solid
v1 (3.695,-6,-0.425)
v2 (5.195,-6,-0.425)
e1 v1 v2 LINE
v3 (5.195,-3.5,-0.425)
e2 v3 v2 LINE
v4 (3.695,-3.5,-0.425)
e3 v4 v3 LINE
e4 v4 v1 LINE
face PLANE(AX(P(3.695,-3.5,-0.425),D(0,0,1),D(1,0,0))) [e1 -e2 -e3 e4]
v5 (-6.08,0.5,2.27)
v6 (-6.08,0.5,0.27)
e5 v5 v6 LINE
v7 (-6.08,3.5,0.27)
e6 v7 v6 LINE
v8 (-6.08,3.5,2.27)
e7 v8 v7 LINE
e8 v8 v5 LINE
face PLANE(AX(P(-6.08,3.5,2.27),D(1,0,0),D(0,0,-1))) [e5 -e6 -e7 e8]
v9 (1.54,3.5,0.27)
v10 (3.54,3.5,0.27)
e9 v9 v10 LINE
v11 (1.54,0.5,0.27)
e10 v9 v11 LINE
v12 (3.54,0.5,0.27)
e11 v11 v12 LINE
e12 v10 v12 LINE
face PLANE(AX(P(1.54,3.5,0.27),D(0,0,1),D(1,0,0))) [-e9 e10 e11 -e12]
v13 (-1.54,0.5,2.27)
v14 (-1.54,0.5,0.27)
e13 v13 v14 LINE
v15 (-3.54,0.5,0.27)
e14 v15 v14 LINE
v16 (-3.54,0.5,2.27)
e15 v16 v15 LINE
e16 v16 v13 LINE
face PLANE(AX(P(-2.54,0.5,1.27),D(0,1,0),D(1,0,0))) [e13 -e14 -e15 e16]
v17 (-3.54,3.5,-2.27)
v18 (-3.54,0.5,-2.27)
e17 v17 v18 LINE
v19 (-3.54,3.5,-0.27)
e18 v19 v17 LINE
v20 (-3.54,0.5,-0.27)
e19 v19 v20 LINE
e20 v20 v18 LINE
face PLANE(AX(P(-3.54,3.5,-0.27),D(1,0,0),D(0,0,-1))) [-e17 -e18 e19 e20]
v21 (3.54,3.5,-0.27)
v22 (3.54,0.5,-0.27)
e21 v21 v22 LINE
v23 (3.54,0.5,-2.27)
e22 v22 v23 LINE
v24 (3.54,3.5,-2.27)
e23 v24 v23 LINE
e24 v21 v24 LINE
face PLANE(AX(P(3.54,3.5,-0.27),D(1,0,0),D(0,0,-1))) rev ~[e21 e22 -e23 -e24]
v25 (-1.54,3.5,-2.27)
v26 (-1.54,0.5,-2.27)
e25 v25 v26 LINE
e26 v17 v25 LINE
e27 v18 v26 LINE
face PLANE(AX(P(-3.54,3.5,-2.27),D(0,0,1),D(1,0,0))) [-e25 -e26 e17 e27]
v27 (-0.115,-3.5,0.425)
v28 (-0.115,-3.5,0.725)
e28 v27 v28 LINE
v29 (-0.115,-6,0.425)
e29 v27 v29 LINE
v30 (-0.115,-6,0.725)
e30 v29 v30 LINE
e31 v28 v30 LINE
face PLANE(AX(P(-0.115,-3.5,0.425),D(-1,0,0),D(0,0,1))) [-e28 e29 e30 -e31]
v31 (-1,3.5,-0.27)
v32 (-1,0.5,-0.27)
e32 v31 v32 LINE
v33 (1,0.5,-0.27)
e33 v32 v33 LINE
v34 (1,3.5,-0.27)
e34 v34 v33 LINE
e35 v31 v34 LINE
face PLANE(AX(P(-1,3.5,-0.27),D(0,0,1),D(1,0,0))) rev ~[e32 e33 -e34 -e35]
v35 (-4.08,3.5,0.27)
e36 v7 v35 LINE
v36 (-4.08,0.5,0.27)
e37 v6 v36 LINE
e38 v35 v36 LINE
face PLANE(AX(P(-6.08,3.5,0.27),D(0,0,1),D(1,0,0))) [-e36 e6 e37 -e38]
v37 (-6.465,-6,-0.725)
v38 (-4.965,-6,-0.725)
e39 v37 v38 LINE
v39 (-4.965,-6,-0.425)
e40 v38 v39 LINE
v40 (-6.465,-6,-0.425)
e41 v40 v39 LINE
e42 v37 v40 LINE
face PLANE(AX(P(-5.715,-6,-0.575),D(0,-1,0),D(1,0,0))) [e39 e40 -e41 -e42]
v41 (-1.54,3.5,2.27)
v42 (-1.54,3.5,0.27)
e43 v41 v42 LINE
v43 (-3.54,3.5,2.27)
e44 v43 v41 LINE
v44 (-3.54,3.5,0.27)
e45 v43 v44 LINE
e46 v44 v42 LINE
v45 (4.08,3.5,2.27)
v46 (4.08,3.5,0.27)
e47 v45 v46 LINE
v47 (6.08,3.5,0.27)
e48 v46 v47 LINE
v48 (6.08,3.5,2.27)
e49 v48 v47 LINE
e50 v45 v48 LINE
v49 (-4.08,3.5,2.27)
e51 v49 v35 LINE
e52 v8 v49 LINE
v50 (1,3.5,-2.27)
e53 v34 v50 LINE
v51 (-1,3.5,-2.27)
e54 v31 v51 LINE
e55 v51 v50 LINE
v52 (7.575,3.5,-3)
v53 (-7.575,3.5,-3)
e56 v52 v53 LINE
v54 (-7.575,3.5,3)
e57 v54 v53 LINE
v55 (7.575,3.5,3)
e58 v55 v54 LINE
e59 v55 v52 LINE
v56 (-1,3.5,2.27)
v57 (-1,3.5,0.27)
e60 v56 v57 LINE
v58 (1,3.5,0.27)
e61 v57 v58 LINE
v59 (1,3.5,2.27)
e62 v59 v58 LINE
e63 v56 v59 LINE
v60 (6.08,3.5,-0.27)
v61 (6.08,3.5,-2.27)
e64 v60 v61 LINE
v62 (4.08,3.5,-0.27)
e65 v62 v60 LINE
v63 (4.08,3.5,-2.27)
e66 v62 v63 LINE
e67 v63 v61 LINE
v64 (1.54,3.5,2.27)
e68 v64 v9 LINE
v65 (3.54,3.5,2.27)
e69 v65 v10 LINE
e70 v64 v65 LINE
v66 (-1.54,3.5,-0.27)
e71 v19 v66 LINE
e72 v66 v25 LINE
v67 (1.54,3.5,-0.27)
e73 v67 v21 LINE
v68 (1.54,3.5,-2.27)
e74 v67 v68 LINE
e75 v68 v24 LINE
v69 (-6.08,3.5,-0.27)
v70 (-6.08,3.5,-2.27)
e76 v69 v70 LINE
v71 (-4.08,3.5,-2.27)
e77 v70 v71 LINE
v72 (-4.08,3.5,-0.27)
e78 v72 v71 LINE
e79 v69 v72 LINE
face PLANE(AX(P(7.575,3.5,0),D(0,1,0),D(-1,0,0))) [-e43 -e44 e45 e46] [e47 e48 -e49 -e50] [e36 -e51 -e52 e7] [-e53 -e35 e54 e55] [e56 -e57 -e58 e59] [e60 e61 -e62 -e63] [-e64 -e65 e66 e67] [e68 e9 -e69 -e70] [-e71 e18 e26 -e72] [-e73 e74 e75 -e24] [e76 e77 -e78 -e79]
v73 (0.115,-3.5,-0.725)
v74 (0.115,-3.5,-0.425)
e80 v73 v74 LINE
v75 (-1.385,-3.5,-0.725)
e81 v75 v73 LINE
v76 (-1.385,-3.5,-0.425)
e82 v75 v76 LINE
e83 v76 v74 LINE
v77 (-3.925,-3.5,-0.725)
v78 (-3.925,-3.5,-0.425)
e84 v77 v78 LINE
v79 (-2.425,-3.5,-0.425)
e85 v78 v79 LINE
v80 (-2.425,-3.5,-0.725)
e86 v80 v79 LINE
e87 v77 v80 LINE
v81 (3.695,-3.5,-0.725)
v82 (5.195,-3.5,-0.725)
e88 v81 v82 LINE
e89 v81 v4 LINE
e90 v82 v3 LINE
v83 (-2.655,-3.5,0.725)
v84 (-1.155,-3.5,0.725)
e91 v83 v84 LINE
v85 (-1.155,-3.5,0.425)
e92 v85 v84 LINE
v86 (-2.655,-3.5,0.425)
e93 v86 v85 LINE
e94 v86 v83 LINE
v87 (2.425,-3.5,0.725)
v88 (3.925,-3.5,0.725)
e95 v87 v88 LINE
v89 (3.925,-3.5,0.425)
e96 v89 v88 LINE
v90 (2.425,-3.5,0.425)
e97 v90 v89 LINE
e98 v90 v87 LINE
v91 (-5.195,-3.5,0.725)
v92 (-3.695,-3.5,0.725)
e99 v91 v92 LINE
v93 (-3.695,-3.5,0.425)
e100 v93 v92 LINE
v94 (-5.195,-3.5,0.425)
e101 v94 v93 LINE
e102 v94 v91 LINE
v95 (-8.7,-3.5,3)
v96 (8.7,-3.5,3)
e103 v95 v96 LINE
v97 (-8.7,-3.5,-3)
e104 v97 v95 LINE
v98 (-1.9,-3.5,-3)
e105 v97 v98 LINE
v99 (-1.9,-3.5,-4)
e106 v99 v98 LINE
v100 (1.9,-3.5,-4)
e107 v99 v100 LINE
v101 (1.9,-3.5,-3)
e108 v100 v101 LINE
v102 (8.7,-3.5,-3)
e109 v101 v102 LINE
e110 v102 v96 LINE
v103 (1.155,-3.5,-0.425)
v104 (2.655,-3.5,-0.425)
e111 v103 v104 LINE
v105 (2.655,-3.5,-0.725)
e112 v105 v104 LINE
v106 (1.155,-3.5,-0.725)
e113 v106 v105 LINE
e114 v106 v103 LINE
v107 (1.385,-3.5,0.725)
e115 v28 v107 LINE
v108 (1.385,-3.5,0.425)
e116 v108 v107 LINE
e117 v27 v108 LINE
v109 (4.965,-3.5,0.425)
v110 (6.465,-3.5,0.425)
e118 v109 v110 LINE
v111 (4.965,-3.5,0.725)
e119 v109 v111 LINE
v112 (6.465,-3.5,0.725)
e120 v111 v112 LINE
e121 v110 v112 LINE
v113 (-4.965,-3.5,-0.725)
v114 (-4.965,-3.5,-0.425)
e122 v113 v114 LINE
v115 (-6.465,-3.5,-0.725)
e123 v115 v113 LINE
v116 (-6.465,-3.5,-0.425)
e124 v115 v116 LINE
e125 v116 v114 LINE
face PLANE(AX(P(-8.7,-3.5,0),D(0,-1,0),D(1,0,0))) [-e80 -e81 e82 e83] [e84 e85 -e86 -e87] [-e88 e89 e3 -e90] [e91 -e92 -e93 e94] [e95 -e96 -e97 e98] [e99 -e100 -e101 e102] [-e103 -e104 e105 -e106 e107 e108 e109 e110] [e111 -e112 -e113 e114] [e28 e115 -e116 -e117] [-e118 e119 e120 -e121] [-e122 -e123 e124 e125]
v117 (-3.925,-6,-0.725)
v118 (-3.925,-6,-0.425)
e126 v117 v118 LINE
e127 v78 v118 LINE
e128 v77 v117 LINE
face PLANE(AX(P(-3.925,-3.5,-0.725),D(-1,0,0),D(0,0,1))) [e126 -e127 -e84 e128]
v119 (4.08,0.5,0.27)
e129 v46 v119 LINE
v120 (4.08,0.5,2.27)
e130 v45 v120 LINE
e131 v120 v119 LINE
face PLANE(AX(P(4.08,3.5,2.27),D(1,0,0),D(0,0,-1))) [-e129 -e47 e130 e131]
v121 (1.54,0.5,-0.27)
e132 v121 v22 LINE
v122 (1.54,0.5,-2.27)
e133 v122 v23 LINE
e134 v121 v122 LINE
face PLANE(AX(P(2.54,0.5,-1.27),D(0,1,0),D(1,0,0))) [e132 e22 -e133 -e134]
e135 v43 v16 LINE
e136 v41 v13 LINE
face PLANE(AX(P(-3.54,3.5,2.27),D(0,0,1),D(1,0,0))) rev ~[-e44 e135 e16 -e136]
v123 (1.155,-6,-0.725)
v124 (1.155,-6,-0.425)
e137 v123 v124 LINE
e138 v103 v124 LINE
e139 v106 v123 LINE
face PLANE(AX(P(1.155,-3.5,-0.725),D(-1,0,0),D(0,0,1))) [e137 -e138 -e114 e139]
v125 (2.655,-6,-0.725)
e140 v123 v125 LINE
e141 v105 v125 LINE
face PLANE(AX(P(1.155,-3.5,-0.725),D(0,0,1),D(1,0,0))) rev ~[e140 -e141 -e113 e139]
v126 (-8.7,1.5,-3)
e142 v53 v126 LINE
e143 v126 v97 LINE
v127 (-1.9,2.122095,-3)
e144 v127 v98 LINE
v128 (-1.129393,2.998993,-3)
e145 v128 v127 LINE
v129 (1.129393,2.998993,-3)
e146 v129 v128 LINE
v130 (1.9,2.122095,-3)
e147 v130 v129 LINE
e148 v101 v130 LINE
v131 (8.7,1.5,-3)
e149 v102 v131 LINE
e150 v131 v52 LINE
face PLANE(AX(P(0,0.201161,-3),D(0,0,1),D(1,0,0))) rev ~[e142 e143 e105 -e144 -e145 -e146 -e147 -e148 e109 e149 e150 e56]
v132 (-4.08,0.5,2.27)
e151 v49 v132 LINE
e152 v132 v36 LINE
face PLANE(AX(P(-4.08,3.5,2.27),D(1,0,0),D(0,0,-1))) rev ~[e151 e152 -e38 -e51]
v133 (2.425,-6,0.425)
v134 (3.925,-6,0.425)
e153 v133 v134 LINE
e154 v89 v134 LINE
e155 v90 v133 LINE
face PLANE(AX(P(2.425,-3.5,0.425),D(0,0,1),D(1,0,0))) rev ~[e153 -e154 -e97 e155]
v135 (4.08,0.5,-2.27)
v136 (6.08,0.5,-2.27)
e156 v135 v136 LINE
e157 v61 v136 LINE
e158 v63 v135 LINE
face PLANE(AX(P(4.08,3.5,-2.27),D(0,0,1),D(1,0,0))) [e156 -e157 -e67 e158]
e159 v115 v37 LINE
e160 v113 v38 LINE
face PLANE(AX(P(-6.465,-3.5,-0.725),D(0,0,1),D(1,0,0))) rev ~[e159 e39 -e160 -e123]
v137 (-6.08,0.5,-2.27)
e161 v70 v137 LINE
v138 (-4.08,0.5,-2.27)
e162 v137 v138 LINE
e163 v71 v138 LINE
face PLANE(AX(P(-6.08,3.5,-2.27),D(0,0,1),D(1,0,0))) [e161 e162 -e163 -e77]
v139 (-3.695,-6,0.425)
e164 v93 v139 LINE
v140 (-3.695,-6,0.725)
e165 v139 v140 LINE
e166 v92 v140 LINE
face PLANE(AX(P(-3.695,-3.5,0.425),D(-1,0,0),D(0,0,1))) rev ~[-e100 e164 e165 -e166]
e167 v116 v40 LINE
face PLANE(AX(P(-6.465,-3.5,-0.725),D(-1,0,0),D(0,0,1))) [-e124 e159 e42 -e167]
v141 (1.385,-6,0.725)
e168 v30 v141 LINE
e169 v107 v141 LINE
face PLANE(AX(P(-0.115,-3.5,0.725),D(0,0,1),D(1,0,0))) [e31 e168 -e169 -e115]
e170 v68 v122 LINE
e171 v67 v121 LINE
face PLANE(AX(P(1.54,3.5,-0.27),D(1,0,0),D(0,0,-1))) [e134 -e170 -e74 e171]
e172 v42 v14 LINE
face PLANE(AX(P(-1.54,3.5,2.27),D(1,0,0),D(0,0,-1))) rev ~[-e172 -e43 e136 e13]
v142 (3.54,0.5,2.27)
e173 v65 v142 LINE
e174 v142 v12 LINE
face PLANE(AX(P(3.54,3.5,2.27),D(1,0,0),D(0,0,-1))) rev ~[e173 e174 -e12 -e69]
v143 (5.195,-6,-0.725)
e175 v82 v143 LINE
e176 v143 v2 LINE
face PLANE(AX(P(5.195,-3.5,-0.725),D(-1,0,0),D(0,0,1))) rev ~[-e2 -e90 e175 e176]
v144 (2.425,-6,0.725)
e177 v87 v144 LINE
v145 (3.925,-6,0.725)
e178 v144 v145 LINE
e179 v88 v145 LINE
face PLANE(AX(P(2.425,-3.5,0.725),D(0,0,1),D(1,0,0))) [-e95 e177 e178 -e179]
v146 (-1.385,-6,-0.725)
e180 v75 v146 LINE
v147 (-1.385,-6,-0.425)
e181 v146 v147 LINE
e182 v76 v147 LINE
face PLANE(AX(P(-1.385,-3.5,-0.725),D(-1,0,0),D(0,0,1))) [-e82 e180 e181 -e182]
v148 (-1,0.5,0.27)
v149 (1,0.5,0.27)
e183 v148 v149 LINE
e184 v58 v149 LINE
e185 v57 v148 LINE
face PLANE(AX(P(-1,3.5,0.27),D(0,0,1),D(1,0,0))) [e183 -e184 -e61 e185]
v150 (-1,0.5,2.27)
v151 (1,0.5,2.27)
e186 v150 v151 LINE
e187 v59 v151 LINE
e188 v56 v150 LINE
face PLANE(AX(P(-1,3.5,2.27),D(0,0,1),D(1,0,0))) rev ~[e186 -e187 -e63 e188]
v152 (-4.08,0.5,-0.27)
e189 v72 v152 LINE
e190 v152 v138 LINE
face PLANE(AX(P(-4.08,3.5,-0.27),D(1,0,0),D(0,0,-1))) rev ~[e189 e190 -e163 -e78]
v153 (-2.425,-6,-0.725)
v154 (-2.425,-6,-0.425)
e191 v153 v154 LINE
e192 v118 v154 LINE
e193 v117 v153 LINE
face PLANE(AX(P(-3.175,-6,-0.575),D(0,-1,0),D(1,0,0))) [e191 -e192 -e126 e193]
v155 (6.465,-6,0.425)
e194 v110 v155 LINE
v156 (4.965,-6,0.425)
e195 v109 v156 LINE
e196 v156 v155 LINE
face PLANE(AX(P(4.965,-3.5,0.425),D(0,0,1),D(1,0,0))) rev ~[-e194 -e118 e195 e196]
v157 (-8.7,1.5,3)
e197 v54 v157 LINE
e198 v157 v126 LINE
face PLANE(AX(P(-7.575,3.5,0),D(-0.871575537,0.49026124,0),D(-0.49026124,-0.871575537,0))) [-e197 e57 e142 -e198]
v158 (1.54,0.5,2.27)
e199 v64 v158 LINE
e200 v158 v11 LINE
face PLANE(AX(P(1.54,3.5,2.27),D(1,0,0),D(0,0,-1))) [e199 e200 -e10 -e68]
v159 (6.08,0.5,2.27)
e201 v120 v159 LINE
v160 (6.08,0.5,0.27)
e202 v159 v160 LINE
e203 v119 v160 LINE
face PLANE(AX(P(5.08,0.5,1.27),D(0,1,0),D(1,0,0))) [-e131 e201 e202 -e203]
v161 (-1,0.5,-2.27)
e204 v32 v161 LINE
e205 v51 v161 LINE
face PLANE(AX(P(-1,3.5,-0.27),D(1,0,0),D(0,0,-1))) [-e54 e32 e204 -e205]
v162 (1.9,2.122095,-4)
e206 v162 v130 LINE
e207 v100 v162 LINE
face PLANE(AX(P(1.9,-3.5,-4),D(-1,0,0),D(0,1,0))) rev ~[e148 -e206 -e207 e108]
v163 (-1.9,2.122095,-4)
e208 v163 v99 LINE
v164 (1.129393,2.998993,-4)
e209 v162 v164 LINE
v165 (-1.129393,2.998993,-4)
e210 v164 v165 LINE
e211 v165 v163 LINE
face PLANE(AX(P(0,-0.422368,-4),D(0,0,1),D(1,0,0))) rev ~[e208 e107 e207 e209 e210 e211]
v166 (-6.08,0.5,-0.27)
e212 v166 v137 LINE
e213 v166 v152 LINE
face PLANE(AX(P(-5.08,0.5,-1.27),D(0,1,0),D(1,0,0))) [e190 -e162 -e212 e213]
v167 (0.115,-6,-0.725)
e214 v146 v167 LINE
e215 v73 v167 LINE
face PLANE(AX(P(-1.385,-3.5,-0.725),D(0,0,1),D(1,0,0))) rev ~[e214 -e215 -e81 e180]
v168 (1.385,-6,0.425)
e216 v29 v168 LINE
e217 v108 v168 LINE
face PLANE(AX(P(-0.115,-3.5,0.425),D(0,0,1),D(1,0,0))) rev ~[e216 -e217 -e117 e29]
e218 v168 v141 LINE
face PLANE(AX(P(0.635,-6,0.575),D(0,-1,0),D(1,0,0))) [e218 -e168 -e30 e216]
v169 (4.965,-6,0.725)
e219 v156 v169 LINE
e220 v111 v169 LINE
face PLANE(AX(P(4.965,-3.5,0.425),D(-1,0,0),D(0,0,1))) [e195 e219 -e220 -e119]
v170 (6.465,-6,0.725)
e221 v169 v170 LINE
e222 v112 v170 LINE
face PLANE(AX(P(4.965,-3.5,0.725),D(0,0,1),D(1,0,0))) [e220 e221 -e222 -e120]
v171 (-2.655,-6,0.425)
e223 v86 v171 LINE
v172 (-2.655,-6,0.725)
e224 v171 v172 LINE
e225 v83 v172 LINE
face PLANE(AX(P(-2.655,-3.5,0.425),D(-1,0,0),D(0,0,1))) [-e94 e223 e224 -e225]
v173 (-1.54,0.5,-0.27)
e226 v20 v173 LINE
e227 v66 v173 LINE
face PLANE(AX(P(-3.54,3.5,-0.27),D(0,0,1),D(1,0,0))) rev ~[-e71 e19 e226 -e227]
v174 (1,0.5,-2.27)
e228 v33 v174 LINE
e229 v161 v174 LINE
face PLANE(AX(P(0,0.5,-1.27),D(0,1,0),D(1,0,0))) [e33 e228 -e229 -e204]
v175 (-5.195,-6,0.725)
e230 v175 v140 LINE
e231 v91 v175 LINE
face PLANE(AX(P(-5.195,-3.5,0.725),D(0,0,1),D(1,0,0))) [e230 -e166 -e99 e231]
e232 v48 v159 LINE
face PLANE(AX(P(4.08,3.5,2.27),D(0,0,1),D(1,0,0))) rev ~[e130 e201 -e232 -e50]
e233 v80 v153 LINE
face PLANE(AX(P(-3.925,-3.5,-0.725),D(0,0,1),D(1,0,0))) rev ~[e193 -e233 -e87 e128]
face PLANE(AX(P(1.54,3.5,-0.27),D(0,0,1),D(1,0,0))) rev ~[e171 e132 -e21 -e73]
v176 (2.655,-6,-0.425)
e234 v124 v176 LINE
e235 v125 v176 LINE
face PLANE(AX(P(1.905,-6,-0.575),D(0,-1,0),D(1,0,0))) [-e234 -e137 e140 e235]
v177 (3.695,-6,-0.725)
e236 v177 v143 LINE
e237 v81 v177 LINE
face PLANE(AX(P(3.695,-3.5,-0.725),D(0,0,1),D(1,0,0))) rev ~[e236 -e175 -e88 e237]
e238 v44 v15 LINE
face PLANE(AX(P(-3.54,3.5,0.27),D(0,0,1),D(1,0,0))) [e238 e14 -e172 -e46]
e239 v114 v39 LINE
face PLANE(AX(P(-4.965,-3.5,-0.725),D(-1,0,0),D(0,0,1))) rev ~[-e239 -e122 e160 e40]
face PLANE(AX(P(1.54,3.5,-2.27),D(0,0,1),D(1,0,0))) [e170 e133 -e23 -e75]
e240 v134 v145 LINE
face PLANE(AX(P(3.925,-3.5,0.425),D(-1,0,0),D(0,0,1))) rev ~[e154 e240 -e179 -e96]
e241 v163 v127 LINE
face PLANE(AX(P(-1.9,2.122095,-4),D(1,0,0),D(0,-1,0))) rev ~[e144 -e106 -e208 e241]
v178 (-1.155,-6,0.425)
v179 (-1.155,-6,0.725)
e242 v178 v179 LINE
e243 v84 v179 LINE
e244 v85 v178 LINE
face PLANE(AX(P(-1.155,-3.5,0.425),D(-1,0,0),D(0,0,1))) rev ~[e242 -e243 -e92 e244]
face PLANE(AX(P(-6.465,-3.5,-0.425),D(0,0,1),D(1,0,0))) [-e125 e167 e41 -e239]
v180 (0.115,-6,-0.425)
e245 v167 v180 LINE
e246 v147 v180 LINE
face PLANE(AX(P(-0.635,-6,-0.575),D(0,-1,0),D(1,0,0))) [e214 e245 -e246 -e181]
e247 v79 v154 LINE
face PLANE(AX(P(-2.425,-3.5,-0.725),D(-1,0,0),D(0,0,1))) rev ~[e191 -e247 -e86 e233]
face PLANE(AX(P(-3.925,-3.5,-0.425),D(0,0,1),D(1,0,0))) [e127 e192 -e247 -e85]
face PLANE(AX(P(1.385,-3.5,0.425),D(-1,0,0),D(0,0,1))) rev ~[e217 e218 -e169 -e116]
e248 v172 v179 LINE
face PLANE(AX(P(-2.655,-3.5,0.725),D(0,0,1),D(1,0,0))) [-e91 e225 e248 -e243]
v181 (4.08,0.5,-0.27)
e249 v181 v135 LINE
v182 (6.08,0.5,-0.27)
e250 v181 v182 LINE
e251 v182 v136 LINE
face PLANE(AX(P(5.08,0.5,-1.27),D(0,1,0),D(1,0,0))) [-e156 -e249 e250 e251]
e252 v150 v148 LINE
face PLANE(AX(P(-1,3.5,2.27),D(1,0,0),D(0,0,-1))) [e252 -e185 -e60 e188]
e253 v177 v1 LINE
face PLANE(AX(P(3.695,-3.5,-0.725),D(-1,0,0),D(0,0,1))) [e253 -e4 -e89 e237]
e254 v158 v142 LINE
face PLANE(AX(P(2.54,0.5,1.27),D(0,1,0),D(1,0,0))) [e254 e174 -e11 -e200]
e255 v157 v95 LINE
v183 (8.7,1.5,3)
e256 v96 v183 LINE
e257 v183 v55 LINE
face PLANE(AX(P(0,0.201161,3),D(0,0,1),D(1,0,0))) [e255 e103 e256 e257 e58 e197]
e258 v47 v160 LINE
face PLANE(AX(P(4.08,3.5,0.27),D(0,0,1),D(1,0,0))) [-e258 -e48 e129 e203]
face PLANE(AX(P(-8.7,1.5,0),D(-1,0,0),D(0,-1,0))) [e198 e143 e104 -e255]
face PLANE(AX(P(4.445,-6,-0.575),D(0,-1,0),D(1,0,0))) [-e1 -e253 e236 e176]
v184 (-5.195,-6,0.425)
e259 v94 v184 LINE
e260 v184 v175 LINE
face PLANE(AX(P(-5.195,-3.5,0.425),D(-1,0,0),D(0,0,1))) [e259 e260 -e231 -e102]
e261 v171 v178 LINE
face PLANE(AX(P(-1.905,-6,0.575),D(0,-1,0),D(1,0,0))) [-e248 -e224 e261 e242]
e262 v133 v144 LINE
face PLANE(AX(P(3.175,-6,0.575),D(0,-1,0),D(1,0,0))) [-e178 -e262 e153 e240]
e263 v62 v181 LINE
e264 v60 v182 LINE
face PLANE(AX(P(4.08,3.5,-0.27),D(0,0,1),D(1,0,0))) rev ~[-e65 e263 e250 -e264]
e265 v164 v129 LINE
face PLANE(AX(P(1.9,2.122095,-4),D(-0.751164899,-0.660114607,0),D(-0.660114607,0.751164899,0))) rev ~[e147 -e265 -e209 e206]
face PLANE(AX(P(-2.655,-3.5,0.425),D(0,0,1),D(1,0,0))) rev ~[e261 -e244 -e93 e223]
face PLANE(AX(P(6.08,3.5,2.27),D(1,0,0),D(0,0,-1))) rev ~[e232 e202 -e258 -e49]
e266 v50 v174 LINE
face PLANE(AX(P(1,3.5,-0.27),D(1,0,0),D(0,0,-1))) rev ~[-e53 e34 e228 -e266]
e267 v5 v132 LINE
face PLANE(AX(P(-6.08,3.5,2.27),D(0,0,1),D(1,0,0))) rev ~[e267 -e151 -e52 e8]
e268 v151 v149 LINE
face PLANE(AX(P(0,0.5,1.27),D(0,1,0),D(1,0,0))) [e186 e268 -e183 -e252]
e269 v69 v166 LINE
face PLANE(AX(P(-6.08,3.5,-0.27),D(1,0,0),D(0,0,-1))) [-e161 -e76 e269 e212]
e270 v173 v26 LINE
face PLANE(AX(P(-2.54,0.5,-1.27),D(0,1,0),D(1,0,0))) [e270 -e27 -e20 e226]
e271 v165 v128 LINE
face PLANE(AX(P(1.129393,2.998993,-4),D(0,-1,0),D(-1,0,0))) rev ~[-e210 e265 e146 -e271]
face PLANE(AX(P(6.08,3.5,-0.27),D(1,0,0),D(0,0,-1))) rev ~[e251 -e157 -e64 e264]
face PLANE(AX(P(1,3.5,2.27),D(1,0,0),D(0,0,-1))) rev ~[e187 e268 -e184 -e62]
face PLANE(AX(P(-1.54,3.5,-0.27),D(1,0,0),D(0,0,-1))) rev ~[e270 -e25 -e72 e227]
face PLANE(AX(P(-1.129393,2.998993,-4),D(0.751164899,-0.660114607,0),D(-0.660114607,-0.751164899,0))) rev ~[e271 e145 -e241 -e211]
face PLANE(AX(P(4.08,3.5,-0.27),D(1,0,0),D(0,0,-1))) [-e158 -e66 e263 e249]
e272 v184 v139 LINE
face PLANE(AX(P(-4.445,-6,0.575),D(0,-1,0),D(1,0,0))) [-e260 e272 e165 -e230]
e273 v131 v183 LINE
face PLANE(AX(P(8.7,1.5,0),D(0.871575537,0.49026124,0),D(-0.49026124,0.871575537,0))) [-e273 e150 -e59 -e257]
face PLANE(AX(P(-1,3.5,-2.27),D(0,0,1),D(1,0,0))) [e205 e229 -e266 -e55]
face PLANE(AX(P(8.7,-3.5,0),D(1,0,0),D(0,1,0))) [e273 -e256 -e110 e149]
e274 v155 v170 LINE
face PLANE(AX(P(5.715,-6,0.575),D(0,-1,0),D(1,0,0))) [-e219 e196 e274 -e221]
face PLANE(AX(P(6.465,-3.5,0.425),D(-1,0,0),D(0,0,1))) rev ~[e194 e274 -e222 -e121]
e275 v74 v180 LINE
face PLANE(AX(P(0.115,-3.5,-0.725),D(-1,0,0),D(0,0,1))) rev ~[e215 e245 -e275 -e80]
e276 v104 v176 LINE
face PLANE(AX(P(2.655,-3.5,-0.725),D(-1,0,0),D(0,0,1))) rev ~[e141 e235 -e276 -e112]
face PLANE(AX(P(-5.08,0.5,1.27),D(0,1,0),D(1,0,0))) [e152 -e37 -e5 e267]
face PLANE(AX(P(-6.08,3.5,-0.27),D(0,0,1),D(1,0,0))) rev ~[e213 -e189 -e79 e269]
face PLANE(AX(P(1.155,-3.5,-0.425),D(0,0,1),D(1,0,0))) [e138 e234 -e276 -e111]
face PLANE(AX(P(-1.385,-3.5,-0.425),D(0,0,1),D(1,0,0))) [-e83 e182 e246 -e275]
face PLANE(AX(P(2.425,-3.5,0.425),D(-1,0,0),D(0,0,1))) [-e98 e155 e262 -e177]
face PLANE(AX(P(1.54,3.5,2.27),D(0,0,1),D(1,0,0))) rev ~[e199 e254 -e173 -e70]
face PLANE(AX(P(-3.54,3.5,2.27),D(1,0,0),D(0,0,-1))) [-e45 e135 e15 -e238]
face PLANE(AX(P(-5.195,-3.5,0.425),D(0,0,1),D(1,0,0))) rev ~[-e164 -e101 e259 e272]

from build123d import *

# Parameters (mm, degrees)
EXTRUDE_1_DEPTH     = 3
EXTRUDE_START       = -4
EXTRUDE_2_DEPTH     = 1
SKETCH_2_W          = 2
SKETCH_2_H          = 2
CUT_EXTRUDE_1_DEPTH = 3
SKETCH_3_W          = 1.5
SKETCH_3_H          = 0.3
EXTRUDE_3_DEPTH     = 2.5


with BuildPart() as part:
    # Эскиз1 → Бобышка-Вытянуть1 (new, symmetric)
    with BuildSketch(Plane.XY):
        Polygon((-8.7, 1.5), (-8.7, -3.5), (-1.9, -3.5), (-1.9, 2.122094745), (-1.129392625, 2.998992793), (1.129392625, 2.998992793), (1.9, 2.122094745), (1.9, -3.5), (8.7, -3.5), (8.7, 1.5), (7.575, 3.5), (-7.575, 3.5), align=None)
        Polygon((-1.9, 2.122094745), (-1.9, -3.5), (1.9, -3.5), (1.9, 2.122094745), (1.129392625, 2.998992793), (-1.129392625, 2.998992793), align=None)
    extrude(amount=EXTRUDE_1_DEPTH, both=True)

    # Эскиз1<3> → Бобышка-Вытянуть2 (add)
    with BuildSketch(Plane.XY.offset(EXTRUDE_START)):
        Polygon((-1.9, 2.122094745), (-1.9, -3.5), (1.9, -3.5), (1.9, 2.122094745), (1.129392625, 2.998992793), (-1.129392625, 2.998992793), align=None)
    extrude(amount=EXTRUDE_2_DEPTH)

    # Эскиз2 → Вырез-Вытянуть1 (cut)
    with BuildSketch(Plane(origin=(0, 3.5, 0), x_dir=(1, 0, 0), z_dir=(0, 1, 0))):
        with Locations((0, 1.27)):
            Rectangle(SKETCH_2_W, SKETCH_2_H)
        with Locations((0, -1.27)):
            Rectangle(SKETCH_2_W, SKETCH_2_H)
        with Locations((2.54, 1.27)):
            Rectangle(SKETCH_2_W, SKETCH_2_H)
        with Locations((2.54, -1.27)):
            Rectangle(SKETCH_2_W, SKETCH_2_H)
        with Locations((-2.54, 1.27)):
            Rectangle(SKETCH_2_W, SKETCH_2_H)
        with Locations((-2.54, -1.27)):
            Rectangle(SKETCH_2_W, SKETCH_2_H)
        with Locations((-5.08, 1.27)):
            Rectangle(SKETCH_2_W, SKETCH_2_H)
        with Locations((-5.08, -1.27)):
            Rectangle(SKETCH_2_W, SKETCH_2_H)
        with Locations((5.08, 1.27)):
            Rectangle(SKETCH_2_W, SKETCH_2_H)
        with Locations((5.08, -1.27)):
            Rectangle(SKETCH_2_W, SKETCH_2_H)
    extrude(amount=-CUT_EXTRUDE_1_DEPTH, mode=Mode.SUBTRACT)

    # Эскиз3 → Бобышка-Вытянуть3 (add)
    with BuildSketch(Plane.XZ.offset(3.5)):
        with Locations((-3.175, -0.575)):
            Rectangle(SKETCH_3_W, SKETCH_3_H)
        with Locations((-1.905, 0.575)):
            Rectangle(SKETCH_3_W, SKETCH_3_H)
        with Locations((-0.635, -0.575)):
            Rectangle(SKETCH_3_W, SKETCH_3_H)
        with Locations((0.635, 0.575)):
            Rectangle(SKETCH_3_W, SKETCH_3_H)
        with Locations((1.905, -0.575)):
            Rectangle(SKETCH_3_W, SKETCH_3_H)
        with Locations((3.175, 0.575)):
            Rectangle(SKETCH_3_W, SKETCH_3_H)
        with Locations((-4.445, 0.575)):
            Rectangle(SKETCH_3_W, SKETCH_3_H)
        with Locations((-5.715, -0.575)):
            Rectangle(SKETCH_3_W, SKETCH_3_H)
        with Locations((5.715, 0.575)):
            Rectangle(SKETCH_3_W, SKETCH_3_H)
        with Locations((4.445, -0.575)):
            Rectangle(SKETCH_3_W, SKETCH_3_H)
    extrude(amount=EXTRUDE_3_DEPTH)


solid = part.part
